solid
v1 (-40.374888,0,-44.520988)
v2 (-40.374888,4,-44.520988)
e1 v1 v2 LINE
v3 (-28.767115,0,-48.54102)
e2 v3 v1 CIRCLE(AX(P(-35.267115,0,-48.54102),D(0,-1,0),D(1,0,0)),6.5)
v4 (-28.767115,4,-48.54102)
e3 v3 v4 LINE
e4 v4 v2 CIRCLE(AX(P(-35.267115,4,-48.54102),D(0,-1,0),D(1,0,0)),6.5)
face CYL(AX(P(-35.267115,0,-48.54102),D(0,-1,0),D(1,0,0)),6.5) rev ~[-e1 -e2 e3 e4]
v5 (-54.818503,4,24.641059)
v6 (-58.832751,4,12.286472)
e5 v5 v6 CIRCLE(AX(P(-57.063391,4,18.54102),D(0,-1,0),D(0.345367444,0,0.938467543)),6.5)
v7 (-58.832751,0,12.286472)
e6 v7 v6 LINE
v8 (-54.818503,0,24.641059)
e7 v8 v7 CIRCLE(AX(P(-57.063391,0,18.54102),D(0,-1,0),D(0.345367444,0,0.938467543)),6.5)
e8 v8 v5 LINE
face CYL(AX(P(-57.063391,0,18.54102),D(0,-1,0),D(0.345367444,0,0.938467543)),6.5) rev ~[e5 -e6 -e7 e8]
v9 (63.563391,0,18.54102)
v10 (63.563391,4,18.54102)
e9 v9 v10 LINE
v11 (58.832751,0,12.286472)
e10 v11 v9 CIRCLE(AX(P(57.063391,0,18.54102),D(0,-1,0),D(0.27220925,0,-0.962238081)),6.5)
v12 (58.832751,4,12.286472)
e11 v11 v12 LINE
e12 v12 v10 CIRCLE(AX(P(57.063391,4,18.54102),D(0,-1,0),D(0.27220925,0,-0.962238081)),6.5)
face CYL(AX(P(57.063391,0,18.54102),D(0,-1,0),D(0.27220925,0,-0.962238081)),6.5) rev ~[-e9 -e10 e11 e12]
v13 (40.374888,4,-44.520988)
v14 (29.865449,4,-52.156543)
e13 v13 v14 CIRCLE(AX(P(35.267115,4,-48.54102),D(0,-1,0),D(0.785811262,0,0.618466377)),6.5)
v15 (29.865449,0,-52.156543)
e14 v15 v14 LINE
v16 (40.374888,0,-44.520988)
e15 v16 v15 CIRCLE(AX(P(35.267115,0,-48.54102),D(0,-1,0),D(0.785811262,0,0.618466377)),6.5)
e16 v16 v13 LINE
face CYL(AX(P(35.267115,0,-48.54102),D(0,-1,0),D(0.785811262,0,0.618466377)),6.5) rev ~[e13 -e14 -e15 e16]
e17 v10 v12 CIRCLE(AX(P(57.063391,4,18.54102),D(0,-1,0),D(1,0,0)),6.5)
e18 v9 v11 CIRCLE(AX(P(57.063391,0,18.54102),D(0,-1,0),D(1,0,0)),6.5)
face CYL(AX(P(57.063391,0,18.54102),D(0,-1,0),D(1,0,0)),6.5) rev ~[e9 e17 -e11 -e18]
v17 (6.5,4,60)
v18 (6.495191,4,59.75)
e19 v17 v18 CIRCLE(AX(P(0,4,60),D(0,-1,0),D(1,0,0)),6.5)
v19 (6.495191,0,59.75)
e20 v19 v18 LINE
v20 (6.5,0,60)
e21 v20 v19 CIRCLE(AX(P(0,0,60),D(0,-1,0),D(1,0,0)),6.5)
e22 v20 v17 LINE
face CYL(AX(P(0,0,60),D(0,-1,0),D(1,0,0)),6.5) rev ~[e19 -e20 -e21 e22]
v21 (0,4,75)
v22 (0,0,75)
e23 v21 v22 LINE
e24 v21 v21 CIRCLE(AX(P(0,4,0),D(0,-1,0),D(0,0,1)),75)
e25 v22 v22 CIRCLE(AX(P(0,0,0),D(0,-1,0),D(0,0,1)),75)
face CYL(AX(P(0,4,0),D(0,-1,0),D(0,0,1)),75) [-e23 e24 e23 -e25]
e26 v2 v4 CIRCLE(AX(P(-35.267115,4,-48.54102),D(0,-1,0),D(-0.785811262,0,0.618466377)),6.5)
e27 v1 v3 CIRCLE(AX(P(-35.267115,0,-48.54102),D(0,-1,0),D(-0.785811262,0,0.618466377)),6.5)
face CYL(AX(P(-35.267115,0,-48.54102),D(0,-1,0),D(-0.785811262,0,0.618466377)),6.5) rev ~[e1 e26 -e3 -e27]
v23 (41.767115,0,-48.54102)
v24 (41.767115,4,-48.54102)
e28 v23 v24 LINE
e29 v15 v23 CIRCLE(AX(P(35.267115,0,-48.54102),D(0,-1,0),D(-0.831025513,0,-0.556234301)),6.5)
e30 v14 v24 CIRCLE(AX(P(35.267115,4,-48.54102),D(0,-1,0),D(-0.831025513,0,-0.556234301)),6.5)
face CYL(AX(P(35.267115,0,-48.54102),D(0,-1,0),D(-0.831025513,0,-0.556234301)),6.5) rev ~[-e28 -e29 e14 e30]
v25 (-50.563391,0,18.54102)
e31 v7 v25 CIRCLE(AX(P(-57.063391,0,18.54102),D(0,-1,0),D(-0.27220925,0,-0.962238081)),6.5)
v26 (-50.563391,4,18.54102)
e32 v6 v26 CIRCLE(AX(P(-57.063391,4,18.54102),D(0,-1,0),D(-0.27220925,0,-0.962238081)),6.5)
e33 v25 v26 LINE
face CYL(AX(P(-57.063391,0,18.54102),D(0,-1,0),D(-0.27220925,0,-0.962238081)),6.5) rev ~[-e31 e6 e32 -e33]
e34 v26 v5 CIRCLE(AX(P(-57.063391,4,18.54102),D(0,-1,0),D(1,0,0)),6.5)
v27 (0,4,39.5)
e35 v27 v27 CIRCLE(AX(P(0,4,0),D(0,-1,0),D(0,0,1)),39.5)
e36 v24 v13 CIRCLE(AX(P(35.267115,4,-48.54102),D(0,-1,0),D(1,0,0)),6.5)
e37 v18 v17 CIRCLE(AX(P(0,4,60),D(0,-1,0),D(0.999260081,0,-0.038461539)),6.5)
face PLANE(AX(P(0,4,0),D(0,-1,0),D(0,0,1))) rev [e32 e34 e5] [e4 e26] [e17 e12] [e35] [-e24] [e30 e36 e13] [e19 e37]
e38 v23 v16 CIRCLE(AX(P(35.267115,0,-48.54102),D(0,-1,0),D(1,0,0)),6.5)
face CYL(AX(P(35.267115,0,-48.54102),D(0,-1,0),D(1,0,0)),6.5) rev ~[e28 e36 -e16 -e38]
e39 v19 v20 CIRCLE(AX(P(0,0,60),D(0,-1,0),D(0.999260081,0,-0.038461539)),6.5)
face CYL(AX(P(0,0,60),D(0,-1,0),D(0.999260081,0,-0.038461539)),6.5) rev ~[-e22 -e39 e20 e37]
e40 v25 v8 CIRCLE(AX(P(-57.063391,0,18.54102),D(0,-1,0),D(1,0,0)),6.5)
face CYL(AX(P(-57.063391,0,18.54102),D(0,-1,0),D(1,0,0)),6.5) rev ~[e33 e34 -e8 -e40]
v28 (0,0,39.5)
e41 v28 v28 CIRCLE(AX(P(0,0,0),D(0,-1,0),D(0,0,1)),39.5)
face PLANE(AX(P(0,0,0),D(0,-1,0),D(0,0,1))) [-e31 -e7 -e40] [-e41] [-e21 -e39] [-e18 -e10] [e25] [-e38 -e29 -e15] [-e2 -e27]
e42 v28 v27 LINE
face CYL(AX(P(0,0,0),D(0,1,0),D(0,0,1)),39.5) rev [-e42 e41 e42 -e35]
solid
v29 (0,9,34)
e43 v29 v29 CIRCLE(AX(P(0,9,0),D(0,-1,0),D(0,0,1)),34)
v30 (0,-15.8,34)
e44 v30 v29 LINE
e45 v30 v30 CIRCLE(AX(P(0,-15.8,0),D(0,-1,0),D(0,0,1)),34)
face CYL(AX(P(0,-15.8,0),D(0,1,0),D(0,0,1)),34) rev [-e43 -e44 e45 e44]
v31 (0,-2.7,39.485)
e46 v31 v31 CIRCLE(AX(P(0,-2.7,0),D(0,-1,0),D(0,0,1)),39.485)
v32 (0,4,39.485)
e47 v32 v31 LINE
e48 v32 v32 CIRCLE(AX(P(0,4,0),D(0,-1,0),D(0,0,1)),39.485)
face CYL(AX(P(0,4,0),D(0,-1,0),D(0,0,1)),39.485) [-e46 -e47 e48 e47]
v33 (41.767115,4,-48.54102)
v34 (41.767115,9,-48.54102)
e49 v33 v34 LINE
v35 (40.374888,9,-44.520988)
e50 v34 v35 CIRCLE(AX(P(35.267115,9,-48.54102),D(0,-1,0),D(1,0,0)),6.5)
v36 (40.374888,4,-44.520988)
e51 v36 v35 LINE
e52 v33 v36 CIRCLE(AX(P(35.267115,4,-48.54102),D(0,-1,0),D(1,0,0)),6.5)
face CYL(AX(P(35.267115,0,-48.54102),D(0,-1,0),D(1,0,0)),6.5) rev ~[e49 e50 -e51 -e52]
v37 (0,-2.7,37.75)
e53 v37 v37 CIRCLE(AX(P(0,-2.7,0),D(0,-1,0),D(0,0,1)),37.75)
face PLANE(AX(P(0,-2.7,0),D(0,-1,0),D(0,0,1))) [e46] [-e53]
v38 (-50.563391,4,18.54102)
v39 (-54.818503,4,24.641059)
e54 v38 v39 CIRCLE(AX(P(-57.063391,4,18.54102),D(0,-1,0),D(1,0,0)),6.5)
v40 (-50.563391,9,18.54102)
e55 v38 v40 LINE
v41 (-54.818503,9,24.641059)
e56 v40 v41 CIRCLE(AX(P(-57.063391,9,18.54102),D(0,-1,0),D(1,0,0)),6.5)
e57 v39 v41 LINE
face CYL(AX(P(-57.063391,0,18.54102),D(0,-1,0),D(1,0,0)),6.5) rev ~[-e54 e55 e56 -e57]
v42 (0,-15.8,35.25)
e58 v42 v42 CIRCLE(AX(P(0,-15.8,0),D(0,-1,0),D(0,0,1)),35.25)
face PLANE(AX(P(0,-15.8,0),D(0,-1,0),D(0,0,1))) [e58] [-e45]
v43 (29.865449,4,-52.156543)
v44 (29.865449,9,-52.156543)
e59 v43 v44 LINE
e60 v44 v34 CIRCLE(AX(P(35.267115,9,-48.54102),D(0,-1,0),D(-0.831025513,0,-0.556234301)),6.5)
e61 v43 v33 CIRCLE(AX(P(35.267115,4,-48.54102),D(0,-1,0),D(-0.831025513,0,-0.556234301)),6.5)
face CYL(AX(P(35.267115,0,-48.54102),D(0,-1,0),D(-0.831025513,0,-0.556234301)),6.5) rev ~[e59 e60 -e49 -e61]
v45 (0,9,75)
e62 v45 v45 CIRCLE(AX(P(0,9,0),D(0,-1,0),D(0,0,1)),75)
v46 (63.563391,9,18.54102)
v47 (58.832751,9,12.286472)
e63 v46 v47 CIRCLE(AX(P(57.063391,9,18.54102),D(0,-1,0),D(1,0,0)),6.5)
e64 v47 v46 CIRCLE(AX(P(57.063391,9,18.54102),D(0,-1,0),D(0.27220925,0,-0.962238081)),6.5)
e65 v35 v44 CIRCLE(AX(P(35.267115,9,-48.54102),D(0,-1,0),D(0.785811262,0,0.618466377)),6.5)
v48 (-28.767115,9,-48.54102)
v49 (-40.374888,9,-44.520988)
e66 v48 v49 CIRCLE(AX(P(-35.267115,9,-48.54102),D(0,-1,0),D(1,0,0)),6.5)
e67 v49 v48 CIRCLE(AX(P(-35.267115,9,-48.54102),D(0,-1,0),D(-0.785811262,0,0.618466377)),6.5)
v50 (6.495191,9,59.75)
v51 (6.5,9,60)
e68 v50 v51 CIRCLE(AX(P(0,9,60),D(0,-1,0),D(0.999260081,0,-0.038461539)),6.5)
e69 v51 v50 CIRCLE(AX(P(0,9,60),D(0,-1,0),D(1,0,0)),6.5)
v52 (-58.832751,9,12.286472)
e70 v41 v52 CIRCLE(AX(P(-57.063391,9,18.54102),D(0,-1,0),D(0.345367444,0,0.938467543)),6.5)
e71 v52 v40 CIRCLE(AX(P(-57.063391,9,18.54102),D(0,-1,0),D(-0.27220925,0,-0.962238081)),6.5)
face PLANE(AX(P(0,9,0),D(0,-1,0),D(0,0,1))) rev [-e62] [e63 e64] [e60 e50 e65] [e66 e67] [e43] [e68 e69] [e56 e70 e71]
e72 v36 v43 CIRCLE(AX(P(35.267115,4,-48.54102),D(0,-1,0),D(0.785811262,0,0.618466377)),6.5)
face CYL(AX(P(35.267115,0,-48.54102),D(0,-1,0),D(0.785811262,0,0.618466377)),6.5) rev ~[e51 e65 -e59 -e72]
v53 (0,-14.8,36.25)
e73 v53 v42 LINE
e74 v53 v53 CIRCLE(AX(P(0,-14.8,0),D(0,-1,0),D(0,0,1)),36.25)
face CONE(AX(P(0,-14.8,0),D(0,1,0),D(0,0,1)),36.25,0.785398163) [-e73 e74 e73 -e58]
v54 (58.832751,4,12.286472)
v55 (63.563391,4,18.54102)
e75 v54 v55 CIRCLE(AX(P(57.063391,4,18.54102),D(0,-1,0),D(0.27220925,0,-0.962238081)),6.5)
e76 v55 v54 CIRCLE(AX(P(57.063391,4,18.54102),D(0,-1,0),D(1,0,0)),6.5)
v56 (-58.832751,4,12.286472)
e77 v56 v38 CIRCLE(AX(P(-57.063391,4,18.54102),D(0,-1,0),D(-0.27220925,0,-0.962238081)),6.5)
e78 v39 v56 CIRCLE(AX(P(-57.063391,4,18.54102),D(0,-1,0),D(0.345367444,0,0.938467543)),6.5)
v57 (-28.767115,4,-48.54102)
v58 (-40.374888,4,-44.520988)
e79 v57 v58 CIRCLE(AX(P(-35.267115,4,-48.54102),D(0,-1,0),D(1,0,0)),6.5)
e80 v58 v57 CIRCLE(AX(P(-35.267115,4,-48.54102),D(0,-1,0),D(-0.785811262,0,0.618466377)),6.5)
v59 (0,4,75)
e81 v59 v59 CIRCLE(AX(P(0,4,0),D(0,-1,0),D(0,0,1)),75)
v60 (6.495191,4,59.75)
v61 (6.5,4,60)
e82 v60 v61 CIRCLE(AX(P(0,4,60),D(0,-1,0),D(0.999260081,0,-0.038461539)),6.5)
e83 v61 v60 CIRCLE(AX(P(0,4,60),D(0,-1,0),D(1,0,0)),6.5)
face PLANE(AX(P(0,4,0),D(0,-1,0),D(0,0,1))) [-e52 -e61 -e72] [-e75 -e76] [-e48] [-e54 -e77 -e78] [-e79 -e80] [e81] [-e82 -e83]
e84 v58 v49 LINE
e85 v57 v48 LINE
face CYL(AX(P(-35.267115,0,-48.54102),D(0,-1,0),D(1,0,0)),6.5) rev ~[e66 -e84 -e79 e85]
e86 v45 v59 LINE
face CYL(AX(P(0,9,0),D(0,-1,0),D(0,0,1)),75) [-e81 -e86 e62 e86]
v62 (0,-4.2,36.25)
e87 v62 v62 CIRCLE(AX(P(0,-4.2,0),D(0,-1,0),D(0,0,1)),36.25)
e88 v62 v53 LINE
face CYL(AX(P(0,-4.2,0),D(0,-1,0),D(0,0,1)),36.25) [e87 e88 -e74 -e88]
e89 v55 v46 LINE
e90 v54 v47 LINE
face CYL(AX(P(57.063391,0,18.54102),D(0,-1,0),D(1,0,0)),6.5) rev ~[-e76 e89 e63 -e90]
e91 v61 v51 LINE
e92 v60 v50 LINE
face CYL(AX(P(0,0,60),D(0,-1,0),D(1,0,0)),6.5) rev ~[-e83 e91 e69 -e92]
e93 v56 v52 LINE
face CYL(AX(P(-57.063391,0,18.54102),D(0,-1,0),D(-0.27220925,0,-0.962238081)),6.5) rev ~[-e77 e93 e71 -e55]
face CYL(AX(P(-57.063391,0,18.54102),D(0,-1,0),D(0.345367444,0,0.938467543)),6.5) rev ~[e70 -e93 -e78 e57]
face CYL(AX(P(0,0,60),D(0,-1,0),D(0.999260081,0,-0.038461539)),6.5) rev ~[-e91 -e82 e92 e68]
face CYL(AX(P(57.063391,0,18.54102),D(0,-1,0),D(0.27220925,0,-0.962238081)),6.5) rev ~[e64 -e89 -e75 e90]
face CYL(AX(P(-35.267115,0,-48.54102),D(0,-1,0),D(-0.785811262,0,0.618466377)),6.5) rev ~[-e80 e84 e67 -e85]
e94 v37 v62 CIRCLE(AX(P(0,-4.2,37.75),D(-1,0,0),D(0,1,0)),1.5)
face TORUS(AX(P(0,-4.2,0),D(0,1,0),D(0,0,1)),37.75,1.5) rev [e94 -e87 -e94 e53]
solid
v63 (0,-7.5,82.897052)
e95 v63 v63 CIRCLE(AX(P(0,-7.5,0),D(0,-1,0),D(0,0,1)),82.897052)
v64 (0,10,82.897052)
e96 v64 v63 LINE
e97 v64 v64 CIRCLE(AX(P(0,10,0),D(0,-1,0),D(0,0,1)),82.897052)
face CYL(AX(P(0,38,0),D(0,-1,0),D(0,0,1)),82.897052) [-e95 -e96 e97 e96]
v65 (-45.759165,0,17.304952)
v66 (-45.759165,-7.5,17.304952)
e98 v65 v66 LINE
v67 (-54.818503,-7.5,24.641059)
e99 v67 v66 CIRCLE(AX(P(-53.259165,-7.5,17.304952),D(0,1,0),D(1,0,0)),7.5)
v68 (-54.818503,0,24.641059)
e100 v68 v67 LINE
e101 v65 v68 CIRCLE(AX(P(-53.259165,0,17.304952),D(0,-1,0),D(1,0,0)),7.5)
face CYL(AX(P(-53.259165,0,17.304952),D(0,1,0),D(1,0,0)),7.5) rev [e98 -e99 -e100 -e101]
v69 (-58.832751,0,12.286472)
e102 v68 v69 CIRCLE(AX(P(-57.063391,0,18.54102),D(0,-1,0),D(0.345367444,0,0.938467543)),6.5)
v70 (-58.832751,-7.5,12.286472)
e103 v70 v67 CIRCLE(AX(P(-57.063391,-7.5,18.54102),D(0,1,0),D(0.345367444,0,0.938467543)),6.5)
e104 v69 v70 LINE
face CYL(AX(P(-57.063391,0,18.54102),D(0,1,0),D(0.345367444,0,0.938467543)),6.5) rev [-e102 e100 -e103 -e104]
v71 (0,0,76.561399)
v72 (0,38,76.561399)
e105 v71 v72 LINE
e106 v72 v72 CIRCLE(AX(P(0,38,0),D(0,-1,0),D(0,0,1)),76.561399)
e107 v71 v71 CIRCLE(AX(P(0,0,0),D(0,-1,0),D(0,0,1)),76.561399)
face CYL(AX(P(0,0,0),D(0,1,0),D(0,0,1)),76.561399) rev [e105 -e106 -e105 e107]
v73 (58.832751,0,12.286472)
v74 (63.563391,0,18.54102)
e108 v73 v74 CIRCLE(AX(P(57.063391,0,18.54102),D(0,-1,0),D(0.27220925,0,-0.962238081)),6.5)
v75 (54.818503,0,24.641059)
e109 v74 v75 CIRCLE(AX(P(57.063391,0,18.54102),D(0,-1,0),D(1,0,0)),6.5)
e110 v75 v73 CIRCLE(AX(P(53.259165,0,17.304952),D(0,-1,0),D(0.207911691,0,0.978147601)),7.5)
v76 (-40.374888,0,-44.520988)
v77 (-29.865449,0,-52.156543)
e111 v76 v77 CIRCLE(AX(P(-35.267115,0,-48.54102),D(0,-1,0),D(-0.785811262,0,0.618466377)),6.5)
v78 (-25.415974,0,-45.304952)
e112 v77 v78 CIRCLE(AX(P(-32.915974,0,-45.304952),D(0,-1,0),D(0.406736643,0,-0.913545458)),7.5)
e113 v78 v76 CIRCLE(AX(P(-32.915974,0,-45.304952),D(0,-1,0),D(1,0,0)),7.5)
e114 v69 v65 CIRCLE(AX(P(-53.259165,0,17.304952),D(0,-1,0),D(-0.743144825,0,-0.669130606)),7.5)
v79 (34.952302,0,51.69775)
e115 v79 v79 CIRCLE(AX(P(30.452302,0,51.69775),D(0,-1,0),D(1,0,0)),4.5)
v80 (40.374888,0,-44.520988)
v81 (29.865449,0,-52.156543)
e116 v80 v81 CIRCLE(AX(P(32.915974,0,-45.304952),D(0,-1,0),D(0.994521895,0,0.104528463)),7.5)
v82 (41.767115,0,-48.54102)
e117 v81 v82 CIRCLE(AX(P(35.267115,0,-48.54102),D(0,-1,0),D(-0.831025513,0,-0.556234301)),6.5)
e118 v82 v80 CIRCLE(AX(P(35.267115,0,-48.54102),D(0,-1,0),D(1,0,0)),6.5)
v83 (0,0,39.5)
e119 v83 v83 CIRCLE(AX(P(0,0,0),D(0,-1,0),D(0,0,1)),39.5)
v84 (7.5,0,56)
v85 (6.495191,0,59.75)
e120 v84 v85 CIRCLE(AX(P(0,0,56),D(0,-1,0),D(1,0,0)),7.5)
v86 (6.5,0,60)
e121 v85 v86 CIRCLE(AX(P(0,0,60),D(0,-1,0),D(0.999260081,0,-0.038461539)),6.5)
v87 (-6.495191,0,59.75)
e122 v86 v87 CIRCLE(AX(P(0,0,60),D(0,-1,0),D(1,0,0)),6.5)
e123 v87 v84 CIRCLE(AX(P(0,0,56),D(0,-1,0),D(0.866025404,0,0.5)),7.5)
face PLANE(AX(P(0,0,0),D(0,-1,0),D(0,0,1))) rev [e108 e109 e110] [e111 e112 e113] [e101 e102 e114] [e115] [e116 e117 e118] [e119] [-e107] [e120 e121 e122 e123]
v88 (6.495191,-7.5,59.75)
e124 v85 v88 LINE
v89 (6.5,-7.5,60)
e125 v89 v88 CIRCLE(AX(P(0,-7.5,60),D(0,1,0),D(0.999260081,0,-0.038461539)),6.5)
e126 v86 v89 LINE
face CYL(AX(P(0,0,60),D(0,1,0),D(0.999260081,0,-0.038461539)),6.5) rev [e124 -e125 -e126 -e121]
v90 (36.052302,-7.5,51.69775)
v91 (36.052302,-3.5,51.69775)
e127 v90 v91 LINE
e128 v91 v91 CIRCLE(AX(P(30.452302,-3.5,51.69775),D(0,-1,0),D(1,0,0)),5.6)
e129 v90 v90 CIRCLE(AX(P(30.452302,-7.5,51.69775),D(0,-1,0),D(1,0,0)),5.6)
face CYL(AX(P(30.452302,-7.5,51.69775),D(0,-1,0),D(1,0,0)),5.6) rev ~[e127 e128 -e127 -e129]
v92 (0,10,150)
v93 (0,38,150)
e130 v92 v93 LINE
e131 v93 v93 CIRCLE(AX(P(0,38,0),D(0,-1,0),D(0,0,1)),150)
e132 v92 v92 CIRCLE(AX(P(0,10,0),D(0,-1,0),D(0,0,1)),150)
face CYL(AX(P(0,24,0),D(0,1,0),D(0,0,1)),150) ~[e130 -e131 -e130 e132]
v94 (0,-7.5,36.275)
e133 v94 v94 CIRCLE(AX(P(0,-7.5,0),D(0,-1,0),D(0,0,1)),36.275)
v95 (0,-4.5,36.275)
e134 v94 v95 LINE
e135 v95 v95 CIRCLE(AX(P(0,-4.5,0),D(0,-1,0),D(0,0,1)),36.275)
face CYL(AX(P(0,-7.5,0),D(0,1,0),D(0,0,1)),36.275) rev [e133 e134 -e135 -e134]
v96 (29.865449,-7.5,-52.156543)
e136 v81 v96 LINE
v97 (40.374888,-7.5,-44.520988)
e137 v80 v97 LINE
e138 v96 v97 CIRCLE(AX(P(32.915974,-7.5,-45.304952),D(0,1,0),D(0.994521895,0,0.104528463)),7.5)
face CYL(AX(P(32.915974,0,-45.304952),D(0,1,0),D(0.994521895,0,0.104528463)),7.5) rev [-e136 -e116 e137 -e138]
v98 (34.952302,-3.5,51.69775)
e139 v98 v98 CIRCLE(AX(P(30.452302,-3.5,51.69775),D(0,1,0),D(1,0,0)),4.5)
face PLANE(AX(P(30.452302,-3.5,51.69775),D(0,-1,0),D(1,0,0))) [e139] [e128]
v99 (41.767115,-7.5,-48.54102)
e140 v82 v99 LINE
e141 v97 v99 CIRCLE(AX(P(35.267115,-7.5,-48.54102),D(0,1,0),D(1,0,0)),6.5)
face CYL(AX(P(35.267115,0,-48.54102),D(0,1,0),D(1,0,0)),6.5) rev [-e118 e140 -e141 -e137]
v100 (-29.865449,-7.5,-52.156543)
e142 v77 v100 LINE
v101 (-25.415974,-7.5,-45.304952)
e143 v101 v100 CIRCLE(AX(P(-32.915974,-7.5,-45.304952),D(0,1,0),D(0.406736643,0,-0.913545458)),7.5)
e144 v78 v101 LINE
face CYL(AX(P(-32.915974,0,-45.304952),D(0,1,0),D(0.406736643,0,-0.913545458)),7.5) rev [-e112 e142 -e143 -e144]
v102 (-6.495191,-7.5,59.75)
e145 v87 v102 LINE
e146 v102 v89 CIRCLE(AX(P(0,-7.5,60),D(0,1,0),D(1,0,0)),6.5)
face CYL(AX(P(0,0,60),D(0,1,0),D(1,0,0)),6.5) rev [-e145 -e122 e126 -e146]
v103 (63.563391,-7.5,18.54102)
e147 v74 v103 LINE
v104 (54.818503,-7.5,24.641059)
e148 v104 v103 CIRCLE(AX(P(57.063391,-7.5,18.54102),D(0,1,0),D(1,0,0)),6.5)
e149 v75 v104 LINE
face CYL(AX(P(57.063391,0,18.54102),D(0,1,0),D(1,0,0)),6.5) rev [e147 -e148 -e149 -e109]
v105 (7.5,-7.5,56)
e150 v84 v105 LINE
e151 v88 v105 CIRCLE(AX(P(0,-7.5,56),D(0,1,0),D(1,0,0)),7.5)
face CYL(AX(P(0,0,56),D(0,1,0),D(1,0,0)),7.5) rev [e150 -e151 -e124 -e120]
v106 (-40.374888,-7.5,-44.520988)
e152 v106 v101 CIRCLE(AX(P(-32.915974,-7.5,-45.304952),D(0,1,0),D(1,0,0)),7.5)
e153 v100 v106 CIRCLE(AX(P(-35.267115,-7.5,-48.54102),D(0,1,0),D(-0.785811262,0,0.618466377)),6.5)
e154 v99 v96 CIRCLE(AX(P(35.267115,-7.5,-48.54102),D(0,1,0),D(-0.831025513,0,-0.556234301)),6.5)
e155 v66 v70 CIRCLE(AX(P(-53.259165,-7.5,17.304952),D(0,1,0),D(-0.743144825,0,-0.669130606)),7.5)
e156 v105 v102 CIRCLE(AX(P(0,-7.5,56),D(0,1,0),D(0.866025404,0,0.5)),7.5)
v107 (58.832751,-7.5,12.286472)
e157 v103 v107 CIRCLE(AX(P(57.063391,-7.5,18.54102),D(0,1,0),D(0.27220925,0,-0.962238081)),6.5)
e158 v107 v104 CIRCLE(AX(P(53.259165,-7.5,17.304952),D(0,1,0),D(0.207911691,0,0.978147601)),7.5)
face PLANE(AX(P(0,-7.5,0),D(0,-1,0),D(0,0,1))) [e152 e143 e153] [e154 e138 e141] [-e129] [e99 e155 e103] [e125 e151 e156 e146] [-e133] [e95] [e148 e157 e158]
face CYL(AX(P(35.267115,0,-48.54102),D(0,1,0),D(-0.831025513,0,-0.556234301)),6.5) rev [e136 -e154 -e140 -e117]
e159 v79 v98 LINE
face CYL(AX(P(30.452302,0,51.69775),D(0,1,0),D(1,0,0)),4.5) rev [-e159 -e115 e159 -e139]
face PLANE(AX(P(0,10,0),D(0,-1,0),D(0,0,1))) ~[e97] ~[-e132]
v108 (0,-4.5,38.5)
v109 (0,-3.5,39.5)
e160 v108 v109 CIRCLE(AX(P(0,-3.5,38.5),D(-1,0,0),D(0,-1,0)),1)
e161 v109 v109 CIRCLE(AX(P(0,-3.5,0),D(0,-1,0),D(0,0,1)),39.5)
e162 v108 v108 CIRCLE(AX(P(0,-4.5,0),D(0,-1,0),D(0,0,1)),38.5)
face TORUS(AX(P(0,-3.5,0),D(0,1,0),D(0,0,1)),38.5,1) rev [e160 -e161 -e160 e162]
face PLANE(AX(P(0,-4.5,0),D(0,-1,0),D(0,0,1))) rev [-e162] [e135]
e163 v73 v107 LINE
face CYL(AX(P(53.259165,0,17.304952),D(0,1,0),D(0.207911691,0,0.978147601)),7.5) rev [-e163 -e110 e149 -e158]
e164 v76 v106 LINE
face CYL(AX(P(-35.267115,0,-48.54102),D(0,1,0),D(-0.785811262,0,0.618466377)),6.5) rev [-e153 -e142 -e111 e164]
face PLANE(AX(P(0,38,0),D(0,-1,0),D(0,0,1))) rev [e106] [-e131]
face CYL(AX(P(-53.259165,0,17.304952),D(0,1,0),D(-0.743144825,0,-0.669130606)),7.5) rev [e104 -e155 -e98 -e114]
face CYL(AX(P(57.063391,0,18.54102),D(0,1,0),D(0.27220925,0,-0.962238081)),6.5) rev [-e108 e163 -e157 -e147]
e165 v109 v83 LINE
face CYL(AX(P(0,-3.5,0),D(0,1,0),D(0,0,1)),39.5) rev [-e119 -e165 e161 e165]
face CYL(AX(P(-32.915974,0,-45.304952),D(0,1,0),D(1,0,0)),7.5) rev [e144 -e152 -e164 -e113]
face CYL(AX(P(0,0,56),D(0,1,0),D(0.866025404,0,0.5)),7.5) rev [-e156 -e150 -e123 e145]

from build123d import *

# Parameters (mm, degrees)
F1_W     = 28
F1_H     = 67.1029478312
F5_DEPTH = 25
F0_R     = 4.5
F6_DEPTH = 25
F7_R     = 5.6
F8_DEPTH = 4


with BuildPart() as f2:
    # F1 (on Right) → F2 (revolve)
    with BuildSketch(Plane.YZ):
        with BuildLine():
            Line((-15.8, 34), (9, 34))
            Line((9, 34), (9, 75))
            Line((9, 75), (4, 75))
            Line((4, 75), (4, 39.5))
            Line((4, 39.5), (4, 39.485))
            Line((4, 39.485), (-2.7, 39.485))
            Line((-2.7, 39.485), (-2.7, 37.75))
            ThreePointArc((-2.7, 37.75), (-3.1393398282, 36.6893398282), (-4.2, 36.25))
            Line((-4.2, 36.25), (-14.8, 36.25))
            Line((-14.8, 36.25), (-15.8, 35.25))
            Line((-15.8, 35.25), (-15.8, 34))
        make_face()
    revolve(axis=Axis((0, -36.444887502, 0), (0, -1, 0)))


with BuildPart() as f3:
    # F1 (on Right) → F3 (revolve)
    with BuildSketch(Plane.YZ):
        Polygon((4, 39.5), (4, 75), (0, 75), (0, 42.775), (0, 39.5), align=None)
    revolve(axis=Axis((0, -36.444887502, 0), (0, -1, 0)))


with BuildPart() as f4:
    # F1 (on Right) → F4 (revolve)
    with BuildSketch(Plane.YZ):
        with BuildLine():
            Line((0, 42.775), (0, 75))
            Line((0, 75), (0, 76.5613988042))
            Line((0, 76.5613988042), (38, 76.5613988042))
            Line((38, 76.5613988042), (38, 82.8970521688))
            Line((38, 82.8970521688), (10, 82.8970521688))
            Line((10, 82.8970521688), (-7.5, 82.8970521688))
            Line((-7.5, 82.8970521688), (-7.5, 36.275))
            Line((-7.5, 36.275), (-4.5, 36.275))
            Line((-4.5, 36.275), (-4.5, 38.5))
            ThreePointArc((-4.5, 38.5), (-4.2071067812, 39.2071067812), (-3.5, 39.5))
            Line((-3.5, 39.5), (0, 39.5))
            Line((0, 39.5), (0, 42.775))
        make_face()
        with Locations((24, 116.4485260844)):
            Rectangle(F1_W, F1_H)
    revolve(axis=Axis((0, -36.444887502, 0), (0, -1, 0)))

    # F0 (on Front) → F6 (cut)
    with BuildSketch(Plane.XZ):
        with BuildLine():
            ThreePointArc((-6.4951905284, 59.75), (-1.9411428383, 48.7555563028), (7.5, 56))
            ThreePointArc((7.5, 56), (7.2444436972, 57.9411428383), (6.4951905284, 59.75))
            ThreePointArc((6.4951905284, 59.75), (0, 53.5), (-6.4951905284, 59.75))
        make_face()
        with BuildLine():
            ThreePointArc((-6.4951905284, 59.75), (0, 53.5), (6.4951905284, 59.75))
            ThreePointArc((6.4951905284, 59.75), (0, 63.5), (-6.4951905284, 59.75))
        make_face()
        with BuildLine():
            ThreePointArc((-6.4951905284, 59.75), (0, 63.5), (6.4951905284, 59.75))
            ThreePointArc((6.4951905284, 59.75), (6.4987975209, 59.8749768711), (6.5, 60))
            ThreePointArc((6.5, 60), (-0.1250231289, 66.4987975209), (-6.4951905284, 59.75))
        make_face()
        with BuildLine():
            ThreePointArc((-58.8327511036, 12.2864721373), (-50.5714052909, 10.3030984863), (-45.7591649125, 17.304951685))
            ThreePointArc((-45.7591649125, 17.304951685), (-48.5392619797, 23.1335463959), (-54.8185025937, 24.6410586905))
            ThreePointArc((-54.8185025937, 24.6410586905), (-51.732266589, 22.2597711669), (-50.5633909777, 18.5410196625))
            ThreePointArc((-50.5633909777, 18.5410196625), (-53.1423478014, 13.3568687765), (-58.8327511036, 12.2864721373))
        make_face()
        with BuildLine():
            ThreePointArc((-50.5633909777, 18.5410196625), (-51.732266589, 22.2597711669), (-54.8185025937, 24.6410586905))
            ThreePointArc((-54.8185025937, 24.6410586905), (-60.3920887847, 19.6225791428), (-58.8327511036, 12.2864721373))
            ThreePointArc((-58.8327511036, 12.2864721373), (-53.1423478014, 13.3568687765), (-50.5633909777, 18.5410196625))
        make_face()
        with BuildLine():
            ThreePointArc((-58.8327511036, 12.2864721373), (-60.3920887847, 19.6225791428), (-54.8185025937, 24.6410586905))
            ThreePointArc((-54.8185025937, 24.6410586905), (-63.2452583336, 20.5496301259), (-58.8327511036, 12.2864721373))
        make_face()
        with BuildLine():
            ThreePointArc((-29.8654493053, -52.1565426173), (-26.6259448688, -49.3897444476), (-25.4159741284, -45.304951685))
            ThreePointArc((-25.4159741284, -45.304951685), (-32.5234544566, -37.8152301743), (-40.3748883436, -44.5209882105))
            ThreePointArc((-40.3748883436, -44.5209882105), (-33.1399721992, -42.3989302037), (-28.7671151375, -48.5410196625))
            ThreePointArc((-28.7671151375, -48.5410196625), (-29.0477571357, -50.430354478), (-29.8654493053, -52.1565426173))
        make_face()
        with BuildLine():
            ThreePointArc((-28.7671151375, -48.5410196625), (-33.1399721992, -42.3989302037), (-40.3748883436, -44.5209882105))
            ThreePointArc((-40.3748883436, -44.5209882105), (-37.3243635206, -51.3725791428), (-29.8654493053, -52.1565426173))
            ThreePointArc((-29.8654493053, -52.1565426173), (-29.0477571357, -50.430354478), (-28.7671151375, -48.5410196625))
        make_face()
        with BuildLine():
            ThreePointArc((-29.8654493053, -52.1565426173), (-37.3243635206, -51.3725791428), (-40.3748883436, -44.5209882105))
            ThreePointArc((-40.3748883436, -44.5209882105), (-39.0877192774, -53.7996301259), (-29.8654493053, -52.1565426173))
        make_face()
        with BuildLine():
            ThreePointArc((29.8654493053, -52.1565426173), (37.000766891, -51.5949809446), (40.4159741284, -45.304951685))
            ThreePointArc((40.4159741284, -45.304951685), (40.405695639, -44.9124320132), (40.3748883436, -44.5209882105))
            ThreePointArc((40.3748883436, -44.5209882105), (31.4465109976, -43.2824091991), (29.8654493053, -52.1565426173))
        make_face()
        with BuildLine():
            ThreePointArc((40.3748883436, -44.5209882105), (40.405695639, -44.9124320132), (40.4159741284, -45.304951685))
            ThreePointArc((40.4159741284, -45.304951685), (37.000766891, -51.5949809446), (29.8654493053, -52.1565426173))
            ThreePointArc((29.8654493053, -52.1565426173), (37.1564499531, -54.7603776643), (41.7671151375, -48.5410196625))
            ThreePointArc((41.7671151375, -48.5410196625), (41.4092045963, -46.4138767241), (40.3748883436, -44.5209882105))
        make_face()
        with BuildLine():
            ThreePointArc((29.8654493053, -52.1565426173), (31.4465109976, -43.2824091991), (40.3748883436, -44.5209882105))
            ThreePointArc((40.3748883436, -44.5209882105), (28.5075847362, -39.2373242272), (29.8654493053, -52.1565426173))
        make_face()
        with BuildLine():
            ThreePointArc((58.8327511036, 12.2864721373), (60.2610181113, 14.6171920634), (60.7591649125, 17.304951685))
            ThreePointArc((60.7591649125, 17.304951685), (59.0877596235, 22.0248546179), (54.8185025937, 24.6410586905))
            ThreePointArc((54.8185025937, 24.6410586905), (50.8815236218, 16.5324091991), (58.8327511036, 12.2864721373))
        make_face()
        with BuildLine():
            ThreePointArc((54.8185025937, 24.6410586905), (59.0877596235, 22.0248546179), (60.7591649125, 17.304951685))
            ThreePointArc((60.7591649125, 17.304951685), (60.2610181113, 14.6171920634), (58.8327511036, 12.2864721373))
            ThreePointArc((58.8327511036, 12.2864721373), (62.2475418637, 14.6199764861), (63.5633909777, 18.5410196625))
            ThreePointArc((63.5633909777, 18.5410196625), (60.7821424822, 23.8721440512), (54.8185025937, 24.6410586905))
        make_face()
        with BuildLine():
            ThreePointArc((58.8327511036, 12.2864721373), (50.8815236218, 16.5324091991), (54.8185025937, 24.6410586905))
            ThreePointArc((54.8185025937, 24.6410586905), (46.1262410403, 14.9873242272), (58.8327511036, 12.2864721373))
        make_face()
        with Locations((30.4523017776, 51.6977496265)):
            Circle(F0_R)
    extrude(amount=F6_DEPTH, mode=Mode.SUBTRACT)

    # F7 (on face) → F8 (cut)
    with BuildSketch(Plane.XZ.offset(7.5)):
        with Locations((30.4523017776, 51.6977496265)):
            Circle(F7_R)
    extrude(amount=-F8_DEPTH, mode=Mode.SUBTRACT)


with BuildPart() as f5_tool:
    # F0 (on Front) → F5 (new body)
    with BuildSketch(Plane.XZ):
        with BuildLine():
            ThreePointArc((54.8185025937, 24.6410586905), (59.0877596235, 22.0248546179), (60.7591649125, 17.304951685))
            ThreePointArc((60.7591649125, 17.304951685), (60.2610181113, 14.6171920634), (58.8327511036, 12.2864721373))
            ThreePointArc((58.8327511036, 12.2864721373), (62.2475418637, 14.6199764861), (63.5633909777, 18.5410196625))
            ThreePointArc((63.5633909777, 18.5410196625), (60.7821424822, 23.8721440512), (54.8185025937, 24.6410586905))
        make_face()
        with BuildLine():
            ThreePointArc((58.8327511036, 12.2864721373), (60.2610181113, 14.6171920634), (60.7591649125, 17.304951685))
            ThreePointArc((60.7591649125, 17.304951685), (59.0877596235, 22.0248546179), (54.8185025937, 24.6410586905))
            ThreePointArc((54.8185025937, 24.6410586905), (50.8815236218, 16.5324091991), (58.8327511036, 12.2864721373))
        make_face()
        with BuildLine():
            ThreePointArc((-6.4951905284, 59.75), (0, 63.5), (6.4951905284, 59.75))
            ThreePointArc((6.4951905284, 59.75), (6.4987975209, 59.8749768711), (6.5, 60))
            ThreePointArc((6.5, 60), (-0.1250231289, 66.4987975209), (-6.4951905284, 59.75))
        make_face()
        with BuildLine():
            ThreePointArc((-6.4951905284, 59.75), (0, 53.5), (6.4951905284, 59.75))
            ThreePointArc((6.4951905284, 59.75), (0, 63.5), (-6.4951905284, 59.75))
        make_face()
        with BuildLine():
            ThreePointArc((-58.8327511036, 12.2864721373), (-60.3920887847, 19.6225791428), (-54.8185025937, 24.6410586905))
            ThreePointArc((-54.8185025937, 24.6410586905), (-63.2452583336, 20.5496301259), (-58.8327511036, 12.2864721373))
        make_face()
        with BuildLine():
            ThreePointArc((-50.5633909777, 18.5410196625), (-51.732266589, 22.2597711669), (-54.8185025937, 24.6410586905))
            ThreePointArc((-54.8185025937, 24.6410586905), (-60.3920887847, 19.6225791428), (-58.8327511036, 12.2864721373))
            ThreePointArc((-58.8327511036, 12.2864721373), (-53.1423478014, 13.3568687765), (-50.5633909777, 18.5410196625))
        make_face()
        with BuildLine():
            ThreePointArc((-29.8654493053, -52.1565426173), (-37.3243635206, -51.3725791428), (-40.3748883436, -44.5209882105))
            ThreePointArc((-40.3748883436, -44.5209882105), (-39.0877192774, -53.7996301259), (-29.8654493053, -52.1565426173))
        make_face()
        with BuildLine():
            ThreePointArc((-28.7671151375, -48.5410196625), (-33.1399721992, -42.3989302037), (-40.3748883436, -44.5209882105))
            ThreePointArc((-40.3748883436, -44.5209882105), (-37.3243635206, -51.3725791428), (-29.8654493053, -52.1565426173))
            ThreePointArc((-29.8654493053, -52.1565426173), (-29.0477571357, -50.430354478), (-28.7671151375, -48.5410196625))
        make_face()
        with BuildLine():
            ThreePointArc((40.3748883436, -44.5209882105), (40.405695639, -44.9124320132), (40.4159741284, -45.304951685))
            ThreePointArc((40.4159741284, -45.304951685), (37.000766891, -51.5949809446), (29.8654493053, -52.1565426173))
            ThreePointArc((29.8654493053, -52.1565426173), (37.1564499531, -54.7603776643), (41.7671151375, -48.5410196625))
            ThreePointArc((41.7671151375, -48.5410196625), (41.4092045963, -46.4138767241), (40.3748883436, -44.5209882105))
        make_face()
        with BuildLine():
            ThreePointArc((29.8654493053, -52.1565426173), (37.000766891, -51.5949809446), (40.4159741284, -45.304951685))
            ThreePointArc((40.4159741284, -45.304951685), (40.405695639, -44.9124320132), (40.3748883436, -44.5209882105))
            ThreePointArc((40.3748883436, -44.5209882105), (31.4465109976, -43.2824091991), (29.8654493053, -52.1565426173))
        make_face()
    extrude(amount=-F5_DEPTH)


with BuildPart() as f2_1:
    add(f2.part)

    # F5: cut by f5_tool
    add(f5_tool.part, mode=Mode.SUBTRACT)


with BuildPart() as f3_1:
    add(f3.part)

    # F5: cut by f5_tool
    add(f5_tool.part, mode=Mode.SUBTRACT)


solid = Compound([f4.part, f2_1.part, f3_1.part])
